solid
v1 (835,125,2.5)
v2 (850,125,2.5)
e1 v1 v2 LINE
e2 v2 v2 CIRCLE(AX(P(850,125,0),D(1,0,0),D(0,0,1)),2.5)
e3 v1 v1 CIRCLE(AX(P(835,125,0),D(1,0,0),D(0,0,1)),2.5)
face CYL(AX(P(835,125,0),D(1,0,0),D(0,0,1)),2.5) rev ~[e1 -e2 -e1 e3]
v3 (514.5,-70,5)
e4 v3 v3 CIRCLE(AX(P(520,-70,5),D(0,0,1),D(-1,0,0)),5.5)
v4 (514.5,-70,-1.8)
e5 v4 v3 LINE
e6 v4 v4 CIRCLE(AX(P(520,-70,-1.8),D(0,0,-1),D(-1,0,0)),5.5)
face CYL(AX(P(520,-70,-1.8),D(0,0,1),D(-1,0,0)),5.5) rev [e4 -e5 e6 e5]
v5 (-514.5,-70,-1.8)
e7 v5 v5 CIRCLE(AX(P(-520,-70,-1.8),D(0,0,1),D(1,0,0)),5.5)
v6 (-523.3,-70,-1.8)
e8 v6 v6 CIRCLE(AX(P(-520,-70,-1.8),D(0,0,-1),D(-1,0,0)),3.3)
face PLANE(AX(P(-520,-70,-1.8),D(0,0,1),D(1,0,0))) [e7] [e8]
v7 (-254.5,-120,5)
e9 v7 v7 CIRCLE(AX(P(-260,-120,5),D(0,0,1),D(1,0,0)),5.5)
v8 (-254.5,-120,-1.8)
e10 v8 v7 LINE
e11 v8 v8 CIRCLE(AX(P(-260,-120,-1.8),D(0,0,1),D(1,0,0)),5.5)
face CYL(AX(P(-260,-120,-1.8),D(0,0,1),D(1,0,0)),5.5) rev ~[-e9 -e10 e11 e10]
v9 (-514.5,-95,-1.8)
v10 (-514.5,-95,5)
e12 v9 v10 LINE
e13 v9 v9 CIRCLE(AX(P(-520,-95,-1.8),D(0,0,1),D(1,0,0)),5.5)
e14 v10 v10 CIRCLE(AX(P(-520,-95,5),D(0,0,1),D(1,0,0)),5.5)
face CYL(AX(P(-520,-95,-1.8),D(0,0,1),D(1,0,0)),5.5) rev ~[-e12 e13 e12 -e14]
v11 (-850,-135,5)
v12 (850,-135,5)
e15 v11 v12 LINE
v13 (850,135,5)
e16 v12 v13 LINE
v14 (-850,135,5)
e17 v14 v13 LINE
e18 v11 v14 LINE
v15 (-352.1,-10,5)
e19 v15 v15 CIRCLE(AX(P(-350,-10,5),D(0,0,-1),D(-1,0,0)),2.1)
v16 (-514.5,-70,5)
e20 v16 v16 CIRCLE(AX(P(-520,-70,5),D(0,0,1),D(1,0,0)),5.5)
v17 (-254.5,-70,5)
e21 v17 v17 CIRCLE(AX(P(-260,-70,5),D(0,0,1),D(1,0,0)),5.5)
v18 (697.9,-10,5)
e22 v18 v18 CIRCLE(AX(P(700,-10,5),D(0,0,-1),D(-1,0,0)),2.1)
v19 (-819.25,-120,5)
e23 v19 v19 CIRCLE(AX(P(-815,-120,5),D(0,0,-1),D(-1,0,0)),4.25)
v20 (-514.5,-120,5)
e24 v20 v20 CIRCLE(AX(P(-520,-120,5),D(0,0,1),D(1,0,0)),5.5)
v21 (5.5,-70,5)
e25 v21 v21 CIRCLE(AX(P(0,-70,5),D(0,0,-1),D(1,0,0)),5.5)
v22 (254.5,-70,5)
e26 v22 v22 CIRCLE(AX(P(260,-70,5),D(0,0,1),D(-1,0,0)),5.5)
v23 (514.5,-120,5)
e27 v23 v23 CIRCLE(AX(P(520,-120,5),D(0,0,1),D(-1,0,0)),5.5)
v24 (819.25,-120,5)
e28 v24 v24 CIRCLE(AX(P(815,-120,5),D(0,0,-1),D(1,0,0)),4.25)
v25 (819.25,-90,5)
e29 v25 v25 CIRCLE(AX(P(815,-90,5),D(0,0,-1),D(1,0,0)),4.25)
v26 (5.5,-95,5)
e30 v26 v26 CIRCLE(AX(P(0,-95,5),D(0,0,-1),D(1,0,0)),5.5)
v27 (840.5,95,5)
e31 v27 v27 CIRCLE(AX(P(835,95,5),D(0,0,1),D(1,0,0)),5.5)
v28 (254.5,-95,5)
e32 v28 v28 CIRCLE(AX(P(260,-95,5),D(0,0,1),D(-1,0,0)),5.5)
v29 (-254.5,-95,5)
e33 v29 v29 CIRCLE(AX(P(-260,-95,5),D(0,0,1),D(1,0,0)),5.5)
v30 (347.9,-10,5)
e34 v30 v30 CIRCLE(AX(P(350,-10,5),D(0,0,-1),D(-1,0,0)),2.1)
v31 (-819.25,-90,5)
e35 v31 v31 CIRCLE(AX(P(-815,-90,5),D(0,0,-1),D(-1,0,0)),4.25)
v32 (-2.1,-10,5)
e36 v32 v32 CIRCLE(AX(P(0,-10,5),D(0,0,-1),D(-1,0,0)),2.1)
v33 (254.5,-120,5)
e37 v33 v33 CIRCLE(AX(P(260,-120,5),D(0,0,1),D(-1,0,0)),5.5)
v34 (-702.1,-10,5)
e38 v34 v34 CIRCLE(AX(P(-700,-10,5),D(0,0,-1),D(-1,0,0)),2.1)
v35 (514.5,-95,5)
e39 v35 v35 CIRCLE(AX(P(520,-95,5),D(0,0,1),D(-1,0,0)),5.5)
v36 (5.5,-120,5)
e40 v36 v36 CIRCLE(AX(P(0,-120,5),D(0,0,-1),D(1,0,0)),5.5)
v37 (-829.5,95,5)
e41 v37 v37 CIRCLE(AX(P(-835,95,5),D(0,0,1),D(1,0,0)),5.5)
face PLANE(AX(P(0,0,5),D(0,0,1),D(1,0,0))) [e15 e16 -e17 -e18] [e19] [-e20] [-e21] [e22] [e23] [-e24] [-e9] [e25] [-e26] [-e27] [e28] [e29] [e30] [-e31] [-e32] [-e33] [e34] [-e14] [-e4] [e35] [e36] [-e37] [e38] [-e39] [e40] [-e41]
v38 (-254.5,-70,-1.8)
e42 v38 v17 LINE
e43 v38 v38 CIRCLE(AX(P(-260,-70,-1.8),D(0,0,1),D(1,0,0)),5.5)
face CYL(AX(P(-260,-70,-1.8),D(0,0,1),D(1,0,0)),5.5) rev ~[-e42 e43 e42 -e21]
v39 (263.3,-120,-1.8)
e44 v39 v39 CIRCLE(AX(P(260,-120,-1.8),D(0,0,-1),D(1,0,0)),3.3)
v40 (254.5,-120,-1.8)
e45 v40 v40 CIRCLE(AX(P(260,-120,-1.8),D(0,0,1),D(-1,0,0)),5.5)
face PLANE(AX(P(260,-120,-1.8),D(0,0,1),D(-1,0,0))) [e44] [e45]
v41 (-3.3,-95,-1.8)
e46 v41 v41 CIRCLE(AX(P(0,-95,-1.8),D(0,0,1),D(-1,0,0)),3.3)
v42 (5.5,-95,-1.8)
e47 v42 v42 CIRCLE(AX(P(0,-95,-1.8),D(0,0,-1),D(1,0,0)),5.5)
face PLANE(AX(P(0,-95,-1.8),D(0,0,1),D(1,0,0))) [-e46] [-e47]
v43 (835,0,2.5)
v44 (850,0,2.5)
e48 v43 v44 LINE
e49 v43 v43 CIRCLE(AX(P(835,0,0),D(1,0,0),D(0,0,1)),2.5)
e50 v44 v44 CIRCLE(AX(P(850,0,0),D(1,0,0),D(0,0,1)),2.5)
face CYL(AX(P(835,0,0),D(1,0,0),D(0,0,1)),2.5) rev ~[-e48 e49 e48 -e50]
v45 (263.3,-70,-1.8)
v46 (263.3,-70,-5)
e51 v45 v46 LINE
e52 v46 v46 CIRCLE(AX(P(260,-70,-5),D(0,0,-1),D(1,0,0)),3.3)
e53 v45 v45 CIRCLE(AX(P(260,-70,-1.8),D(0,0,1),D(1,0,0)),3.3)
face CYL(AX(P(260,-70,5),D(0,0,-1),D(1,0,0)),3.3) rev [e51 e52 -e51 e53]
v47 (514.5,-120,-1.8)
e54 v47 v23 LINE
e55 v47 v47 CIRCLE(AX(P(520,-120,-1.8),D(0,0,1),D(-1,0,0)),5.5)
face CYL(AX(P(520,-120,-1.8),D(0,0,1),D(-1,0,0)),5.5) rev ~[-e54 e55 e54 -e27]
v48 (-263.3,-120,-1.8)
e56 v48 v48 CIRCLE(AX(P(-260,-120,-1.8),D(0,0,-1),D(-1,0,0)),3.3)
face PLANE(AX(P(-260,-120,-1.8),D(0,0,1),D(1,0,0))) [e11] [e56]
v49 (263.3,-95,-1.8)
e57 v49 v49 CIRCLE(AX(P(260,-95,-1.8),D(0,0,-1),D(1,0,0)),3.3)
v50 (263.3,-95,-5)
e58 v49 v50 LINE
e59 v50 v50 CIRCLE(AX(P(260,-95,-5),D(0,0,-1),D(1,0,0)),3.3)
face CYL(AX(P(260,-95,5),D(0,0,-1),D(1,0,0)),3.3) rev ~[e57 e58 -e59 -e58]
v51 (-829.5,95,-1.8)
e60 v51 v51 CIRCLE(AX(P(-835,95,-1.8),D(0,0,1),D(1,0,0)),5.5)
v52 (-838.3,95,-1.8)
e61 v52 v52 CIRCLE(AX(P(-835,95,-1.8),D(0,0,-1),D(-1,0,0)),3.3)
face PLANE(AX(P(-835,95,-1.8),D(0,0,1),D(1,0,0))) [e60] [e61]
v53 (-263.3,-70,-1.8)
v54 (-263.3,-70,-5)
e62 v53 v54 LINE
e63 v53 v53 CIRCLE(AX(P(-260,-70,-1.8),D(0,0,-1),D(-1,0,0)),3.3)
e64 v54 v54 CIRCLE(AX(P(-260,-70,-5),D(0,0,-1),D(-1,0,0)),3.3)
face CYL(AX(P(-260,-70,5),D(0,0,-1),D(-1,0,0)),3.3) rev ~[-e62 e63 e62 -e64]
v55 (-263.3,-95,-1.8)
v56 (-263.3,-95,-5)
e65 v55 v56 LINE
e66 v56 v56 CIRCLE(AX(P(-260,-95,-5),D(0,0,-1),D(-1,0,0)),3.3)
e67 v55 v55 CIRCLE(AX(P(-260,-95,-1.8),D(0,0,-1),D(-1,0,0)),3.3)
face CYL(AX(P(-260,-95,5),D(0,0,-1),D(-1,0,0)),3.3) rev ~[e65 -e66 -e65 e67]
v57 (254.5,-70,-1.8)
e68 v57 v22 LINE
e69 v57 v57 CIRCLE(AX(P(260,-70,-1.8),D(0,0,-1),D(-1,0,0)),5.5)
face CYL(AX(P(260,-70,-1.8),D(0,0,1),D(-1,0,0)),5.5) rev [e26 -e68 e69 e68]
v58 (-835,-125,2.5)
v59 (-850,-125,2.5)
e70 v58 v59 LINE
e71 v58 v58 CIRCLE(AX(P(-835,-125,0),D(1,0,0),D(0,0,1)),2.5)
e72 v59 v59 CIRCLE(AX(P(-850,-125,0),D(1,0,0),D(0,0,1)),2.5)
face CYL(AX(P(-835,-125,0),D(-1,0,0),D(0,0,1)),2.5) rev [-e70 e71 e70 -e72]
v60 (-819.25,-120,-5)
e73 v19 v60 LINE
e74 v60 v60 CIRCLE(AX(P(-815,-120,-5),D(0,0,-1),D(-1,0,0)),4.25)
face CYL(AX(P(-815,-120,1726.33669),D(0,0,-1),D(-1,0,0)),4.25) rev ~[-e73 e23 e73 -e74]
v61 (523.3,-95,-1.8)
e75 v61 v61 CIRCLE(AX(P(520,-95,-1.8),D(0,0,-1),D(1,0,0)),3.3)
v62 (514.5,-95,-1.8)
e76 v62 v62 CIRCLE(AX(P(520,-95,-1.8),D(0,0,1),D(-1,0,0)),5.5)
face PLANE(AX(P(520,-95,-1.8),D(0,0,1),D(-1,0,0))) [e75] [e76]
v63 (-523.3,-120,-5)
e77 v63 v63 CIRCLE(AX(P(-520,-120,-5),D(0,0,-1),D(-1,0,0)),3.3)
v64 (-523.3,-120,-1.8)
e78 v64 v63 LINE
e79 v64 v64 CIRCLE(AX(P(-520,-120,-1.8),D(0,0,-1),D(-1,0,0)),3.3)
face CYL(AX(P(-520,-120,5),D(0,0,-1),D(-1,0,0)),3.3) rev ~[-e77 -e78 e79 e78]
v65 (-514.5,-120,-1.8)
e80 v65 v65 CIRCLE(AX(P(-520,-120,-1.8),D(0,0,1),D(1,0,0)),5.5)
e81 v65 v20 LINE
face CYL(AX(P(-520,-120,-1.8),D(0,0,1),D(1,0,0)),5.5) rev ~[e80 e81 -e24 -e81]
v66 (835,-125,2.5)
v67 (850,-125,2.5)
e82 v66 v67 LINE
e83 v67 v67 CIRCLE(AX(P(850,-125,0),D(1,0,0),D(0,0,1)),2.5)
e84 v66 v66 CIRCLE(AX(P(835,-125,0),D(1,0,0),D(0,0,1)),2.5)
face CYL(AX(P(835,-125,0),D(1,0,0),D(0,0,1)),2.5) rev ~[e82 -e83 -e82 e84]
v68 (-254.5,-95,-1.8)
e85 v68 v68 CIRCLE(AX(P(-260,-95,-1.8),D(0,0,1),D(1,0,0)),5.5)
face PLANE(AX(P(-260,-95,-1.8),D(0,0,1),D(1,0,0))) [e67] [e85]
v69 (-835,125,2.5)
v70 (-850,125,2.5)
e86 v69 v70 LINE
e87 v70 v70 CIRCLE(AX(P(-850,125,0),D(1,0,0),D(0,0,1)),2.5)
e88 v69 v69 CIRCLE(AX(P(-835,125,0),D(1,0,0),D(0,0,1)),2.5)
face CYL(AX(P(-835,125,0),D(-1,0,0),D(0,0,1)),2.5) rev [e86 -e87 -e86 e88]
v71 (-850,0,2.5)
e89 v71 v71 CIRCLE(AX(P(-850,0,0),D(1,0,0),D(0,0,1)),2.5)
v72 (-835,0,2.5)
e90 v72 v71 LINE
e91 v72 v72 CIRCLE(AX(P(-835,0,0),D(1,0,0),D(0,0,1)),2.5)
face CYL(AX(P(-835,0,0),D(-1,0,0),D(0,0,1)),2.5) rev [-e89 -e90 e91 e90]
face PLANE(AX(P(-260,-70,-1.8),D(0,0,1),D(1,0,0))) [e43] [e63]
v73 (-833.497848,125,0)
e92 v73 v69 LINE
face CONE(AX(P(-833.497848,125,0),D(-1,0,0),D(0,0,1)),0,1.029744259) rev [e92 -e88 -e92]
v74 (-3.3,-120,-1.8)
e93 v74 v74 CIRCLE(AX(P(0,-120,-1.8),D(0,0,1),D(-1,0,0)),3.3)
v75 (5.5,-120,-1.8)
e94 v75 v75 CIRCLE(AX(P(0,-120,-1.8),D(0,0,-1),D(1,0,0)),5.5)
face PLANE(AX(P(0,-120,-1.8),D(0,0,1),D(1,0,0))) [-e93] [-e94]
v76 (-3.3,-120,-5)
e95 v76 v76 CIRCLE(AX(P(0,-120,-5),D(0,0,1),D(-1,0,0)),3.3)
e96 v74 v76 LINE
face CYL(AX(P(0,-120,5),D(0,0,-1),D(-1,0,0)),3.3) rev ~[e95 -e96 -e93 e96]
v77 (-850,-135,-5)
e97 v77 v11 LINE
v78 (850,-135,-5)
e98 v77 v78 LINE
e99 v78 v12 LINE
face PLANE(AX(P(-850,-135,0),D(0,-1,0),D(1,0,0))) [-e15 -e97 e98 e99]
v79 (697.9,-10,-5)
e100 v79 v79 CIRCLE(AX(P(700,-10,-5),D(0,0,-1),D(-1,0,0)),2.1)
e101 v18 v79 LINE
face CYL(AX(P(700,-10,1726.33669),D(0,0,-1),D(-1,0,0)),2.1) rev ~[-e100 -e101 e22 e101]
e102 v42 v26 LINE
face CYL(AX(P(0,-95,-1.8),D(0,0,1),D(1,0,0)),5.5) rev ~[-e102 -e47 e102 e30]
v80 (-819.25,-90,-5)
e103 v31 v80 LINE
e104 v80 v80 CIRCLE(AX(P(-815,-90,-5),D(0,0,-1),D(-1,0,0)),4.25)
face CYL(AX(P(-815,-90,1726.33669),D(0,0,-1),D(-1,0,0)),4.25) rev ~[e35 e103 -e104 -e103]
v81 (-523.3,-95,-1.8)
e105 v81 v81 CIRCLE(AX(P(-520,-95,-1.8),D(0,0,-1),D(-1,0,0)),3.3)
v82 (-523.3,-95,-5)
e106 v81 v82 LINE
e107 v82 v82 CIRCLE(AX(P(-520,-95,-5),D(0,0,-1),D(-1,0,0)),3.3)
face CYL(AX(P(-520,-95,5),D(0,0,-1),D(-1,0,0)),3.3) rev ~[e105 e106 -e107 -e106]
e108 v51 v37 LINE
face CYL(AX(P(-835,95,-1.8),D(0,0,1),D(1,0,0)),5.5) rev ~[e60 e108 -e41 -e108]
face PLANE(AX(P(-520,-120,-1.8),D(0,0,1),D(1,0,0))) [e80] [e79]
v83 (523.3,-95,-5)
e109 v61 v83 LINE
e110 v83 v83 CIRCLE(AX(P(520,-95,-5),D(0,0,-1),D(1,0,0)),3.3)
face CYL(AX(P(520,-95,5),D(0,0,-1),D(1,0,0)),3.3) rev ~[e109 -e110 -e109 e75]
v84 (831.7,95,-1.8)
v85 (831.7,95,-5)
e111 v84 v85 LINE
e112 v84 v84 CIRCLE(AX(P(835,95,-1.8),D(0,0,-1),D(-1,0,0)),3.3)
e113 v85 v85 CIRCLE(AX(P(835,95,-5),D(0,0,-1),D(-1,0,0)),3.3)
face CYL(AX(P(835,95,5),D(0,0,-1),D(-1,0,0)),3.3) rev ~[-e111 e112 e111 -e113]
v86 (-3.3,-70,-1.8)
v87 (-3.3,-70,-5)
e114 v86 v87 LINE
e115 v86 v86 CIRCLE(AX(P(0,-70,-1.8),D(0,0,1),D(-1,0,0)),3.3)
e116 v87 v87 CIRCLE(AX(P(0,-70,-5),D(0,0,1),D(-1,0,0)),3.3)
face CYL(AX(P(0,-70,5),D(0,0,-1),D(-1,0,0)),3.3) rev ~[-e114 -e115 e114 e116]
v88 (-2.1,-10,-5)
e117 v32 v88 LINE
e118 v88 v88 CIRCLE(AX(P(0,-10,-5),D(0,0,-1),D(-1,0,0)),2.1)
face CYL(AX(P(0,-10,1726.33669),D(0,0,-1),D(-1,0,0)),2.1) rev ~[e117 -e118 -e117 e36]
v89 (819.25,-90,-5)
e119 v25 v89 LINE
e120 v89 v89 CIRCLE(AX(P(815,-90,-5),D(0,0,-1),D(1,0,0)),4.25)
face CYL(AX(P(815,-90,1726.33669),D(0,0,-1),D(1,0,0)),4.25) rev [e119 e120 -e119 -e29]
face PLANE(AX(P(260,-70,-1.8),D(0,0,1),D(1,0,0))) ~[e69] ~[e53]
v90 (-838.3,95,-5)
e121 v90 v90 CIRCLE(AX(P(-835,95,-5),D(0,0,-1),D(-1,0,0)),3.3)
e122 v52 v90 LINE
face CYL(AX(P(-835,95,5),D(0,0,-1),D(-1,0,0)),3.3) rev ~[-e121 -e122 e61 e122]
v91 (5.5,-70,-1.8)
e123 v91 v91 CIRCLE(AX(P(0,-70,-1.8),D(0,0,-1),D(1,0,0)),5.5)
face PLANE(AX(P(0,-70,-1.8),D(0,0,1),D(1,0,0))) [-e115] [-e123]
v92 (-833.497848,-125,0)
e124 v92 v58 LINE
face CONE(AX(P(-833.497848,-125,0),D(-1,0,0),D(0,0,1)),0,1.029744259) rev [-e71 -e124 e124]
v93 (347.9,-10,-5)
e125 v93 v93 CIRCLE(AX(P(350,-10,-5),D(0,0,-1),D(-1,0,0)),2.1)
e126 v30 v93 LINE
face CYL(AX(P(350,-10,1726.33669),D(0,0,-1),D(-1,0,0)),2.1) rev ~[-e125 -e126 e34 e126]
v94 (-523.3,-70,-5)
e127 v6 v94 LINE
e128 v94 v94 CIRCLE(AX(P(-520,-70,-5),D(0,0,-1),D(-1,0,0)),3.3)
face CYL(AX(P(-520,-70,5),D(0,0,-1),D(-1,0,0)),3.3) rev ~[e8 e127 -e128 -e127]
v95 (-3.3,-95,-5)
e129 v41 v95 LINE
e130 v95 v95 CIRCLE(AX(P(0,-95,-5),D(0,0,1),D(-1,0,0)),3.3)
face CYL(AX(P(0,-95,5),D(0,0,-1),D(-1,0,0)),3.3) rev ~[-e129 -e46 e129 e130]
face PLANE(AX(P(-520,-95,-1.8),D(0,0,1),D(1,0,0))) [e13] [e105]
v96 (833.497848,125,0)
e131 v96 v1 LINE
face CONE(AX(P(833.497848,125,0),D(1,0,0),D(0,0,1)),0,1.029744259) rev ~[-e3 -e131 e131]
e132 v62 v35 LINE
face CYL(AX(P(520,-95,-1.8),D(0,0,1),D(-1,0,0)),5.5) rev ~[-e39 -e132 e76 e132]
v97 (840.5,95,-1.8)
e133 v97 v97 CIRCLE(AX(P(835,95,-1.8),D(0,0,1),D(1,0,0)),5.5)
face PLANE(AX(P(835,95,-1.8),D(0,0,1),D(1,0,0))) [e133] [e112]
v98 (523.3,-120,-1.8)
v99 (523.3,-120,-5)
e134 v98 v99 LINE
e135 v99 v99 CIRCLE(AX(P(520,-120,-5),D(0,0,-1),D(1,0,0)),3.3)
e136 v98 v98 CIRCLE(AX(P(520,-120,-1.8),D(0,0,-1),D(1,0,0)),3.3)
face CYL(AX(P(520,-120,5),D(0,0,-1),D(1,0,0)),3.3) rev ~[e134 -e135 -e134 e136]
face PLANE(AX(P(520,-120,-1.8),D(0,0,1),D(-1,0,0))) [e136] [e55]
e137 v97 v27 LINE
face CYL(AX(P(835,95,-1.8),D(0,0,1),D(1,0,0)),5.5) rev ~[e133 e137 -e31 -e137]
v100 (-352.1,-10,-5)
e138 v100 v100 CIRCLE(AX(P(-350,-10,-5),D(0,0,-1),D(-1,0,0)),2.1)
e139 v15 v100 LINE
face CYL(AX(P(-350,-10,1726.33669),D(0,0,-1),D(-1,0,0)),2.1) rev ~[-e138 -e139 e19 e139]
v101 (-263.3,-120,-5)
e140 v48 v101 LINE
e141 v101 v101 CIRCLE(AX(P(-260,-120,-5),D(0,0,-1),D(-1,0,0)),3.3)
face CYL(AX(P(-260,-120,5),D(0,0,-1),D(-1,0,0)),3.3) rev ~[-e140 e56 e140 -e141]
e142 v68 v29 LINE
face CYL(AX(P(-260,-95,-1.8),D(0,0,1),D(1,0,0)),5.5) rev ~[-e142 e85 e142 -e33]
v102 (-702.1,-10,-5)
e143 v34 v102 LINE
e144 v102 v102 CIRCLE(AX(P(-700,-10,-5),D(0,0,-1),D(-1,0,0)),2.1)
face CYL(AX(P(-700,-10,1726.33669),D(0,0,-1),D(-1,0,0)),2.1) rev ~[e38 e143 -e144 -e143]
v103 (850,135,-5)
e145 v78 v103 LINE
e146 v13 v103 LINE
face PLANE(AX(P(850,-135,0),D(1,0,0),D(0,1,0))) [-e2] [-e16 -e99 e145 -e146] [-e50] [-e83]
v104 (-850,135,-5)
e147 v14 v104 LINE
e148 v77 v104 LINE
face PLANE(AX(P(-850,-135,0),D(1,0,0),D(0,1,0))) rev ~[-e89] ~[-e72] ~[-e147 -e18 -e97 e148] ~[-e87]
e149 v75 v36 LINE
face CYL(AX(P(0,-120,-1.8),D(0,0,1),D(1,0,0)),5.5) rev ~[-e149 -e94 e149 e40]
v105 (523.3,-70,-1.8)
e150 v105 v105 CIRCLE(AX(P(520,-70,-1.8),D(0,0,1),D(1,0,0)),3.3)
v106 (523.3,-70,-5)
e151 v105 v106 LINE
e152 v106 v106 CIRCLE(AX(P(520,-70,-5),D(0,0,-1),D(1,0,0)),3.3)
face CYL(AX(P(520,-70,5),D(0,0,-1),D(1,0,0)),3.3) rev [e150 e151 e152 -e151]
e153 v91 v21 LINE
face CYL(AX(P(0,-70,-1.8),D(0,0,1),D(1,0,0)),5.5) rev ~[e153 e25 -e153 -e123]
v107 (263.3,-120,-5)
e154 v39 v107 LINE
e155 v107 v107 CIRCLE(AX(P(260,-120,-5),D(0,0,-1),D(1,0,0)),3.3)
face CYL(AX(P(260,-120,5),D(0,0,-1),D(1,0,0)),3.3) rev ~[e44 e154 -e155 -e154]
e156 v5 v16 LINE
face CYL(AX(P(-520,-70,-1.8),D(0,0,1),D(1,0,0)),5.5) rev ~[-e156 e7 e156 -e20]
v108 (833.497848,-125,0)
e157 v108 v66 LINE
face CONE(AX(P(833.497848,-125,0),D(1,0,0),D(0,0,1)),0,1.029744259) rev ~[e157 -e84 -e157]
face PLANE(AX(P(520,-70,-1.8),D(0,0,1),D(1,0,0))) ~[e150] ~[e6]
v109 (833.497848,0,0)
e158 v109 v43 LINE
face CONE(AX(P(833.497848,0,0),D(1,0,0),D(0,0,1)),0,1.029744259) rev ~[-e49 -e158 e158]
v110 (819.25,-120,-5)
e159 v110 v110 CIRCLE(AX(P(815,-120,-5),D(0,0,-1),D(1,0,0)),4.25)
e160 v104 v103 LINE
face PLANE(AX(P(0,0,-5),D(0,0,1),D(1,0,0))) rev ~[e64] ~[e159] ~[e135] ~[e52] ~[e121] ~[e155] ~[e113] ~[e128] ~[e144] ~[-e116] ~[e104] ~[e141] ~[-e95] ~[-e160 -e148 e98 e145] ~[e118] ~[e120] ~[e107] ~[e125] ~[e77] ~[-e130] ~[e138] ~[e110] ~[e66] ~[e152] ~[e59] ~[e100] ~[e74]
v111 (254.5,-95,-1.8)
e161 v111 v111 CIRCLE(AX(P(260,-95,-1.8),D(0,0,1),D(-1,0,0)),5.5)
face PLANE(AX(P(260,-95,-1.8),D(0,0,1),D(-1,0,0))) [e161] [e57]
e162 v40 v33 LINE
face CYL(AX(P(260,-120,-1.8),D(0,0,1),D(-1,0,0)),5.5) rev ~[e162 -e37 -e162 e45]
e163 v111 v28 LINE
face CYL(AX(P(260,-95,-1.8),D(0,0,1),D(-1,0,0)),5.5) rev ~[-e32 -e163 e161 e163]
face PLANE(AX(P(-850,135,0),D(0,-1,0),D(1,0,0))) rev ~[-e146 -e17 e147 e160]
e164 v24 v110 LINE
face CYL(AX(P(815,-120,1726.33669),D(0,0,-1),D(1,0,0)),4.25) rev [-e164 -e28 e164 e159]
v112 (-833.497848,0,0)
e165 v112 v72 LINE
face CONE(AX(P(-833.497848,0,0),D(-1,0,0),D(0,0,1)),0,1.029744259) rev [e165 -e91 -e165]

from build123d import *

# Parameters (mm, degrees)
SKETCH_1_W                          = 1700
SKETCH_1_H                          = 270
EXTRUDE_1_DEPTH                     = 5
HOLE_WIZARD_M6_1_AT_2_COUNT         = 2
HOLE_WIZARD_M6_1_AT_2_PITCH         = 250
HOLE_WIZARD_M6_1_AT_3_COUNT         = 2
HOLE_WIZARD_M6_1_AT_3_PITCH         = 125
HOLE_WIZARD_3_D                     = 6.6
HOLE_WIZARD_3_CBORE_D               = 11
HOLE_WIZARD_3_CBORE_DEPTH           = 6.8
PATTERN_LINEAR_1_COUNT              = 3
PATTERN_LINEAR_1_PITCH              = 25
PATTERN_LINEAR_1_COPY_1_D           = 6.6
PATTERN_LINEAR_1_COPY_1_CBORE_D     = 11
PATTERN_LINEAR_1_COPY_1_CBORE_DEPTH = 6.8
PATTERN_LINEAR_1_COPY_2_D           = 6.6
PATTERN_LINEAR_1_COPY_2_CBORE_D     = 11
PATTERN_LINEAR_1_COPY_2_CBORE_DEPTH = 6.8
HOLE_WIZARD_M5_1_D                  = 4.2
HOLE_WIZARD_3_2_D                   = 6.6
HOLE_WIZARD_3_2_CBORE_D             = 11
HOLE_WIZARD_3_2_CBORE_DEPTH         = 6.8
HOLE_WIZARD_3_3_D                   = 6.6
HOLE_WIZARD_3_3_CBORE_D             = 11
HOLE_WIZARD_3_3_CBORE_DEPTH         = 6.8
HOLE_WIZARD_M10_1_D                 = 8.5


with BuildPart() as part:
    # 草图1 → 凸台-拉伸1 (new body, symmetric)
    with BuildSketch(Plane.XY):
        Rectangle(SKETCH_1_W, SKETCH_1_H)
    extrude(amount=EXTRUDE_1_DEPTH, both=True)

    # 草图5 → M6 螺纹孔1 (revolve, cut)
    with BuildSketch(Plane(origin=(-850, 125, 0), x_dir=(0, 0, 1), z_dir=(0, 1, 0))):
        Polygon((0, 0), (0, 16.502151548), (2.5, 15), (2.5, 0), align=None)
    hole_wizard_m6_1 = revolve(axis=Axis((-856.35, 125, 0), (1, 0, 0)), mode=Mode.SUBTRACT)

    # M6 螺纹孔1 at 2: M6 螺纹孔1 ×2
    with Locations(*[(0, -i * HOLE_WIZARD_M6_1_AT_2_PITCH, 0) for i in range(1, HOLE_WIZARD_M6_1_AT_2_COUNT)]):
        add(hole_wizard_m6_1, mode=Mode.SUBTRACT)

    # M6 螺纹孔1 at 3: M6 螺纹孔1 ×2
    with Locations(*[(0, -i * HOLE_WIZARD_M6_1_AT_3_PITCH, 0) for i in range(1, HOLE_WIZARD_M6_1_AT_3_COUNT)]):
        add(hole_wizard_m6_1, mode=Mode.SUBTRACT)

    # 镜向1: M6 螺纹孔1 across plane
    add(hole_wizard_m6_1.mirror(Plane(origin=(0, 0, 0), x_dir=(0, 0, 1), z_dir=(1, 0, 0))), mode=Mode.SUBTRACT)

    # 镜向1 copy 1 sketch → 镜向1 copy 1 (revolve, cut)
    with BuildSketch(Plane(origin=(850, -125, 0), x_dir=(0, 0, 1), z_dir=(0, 1, 0))):
        Polygon((0, 0), (0, -16.502151548), (2.5, -15), (2.5, 0), align=None)
    revolve(axis=Axis((856.35, -125, 0), (1, 0, 0)), mode=Mode.SUBTRACT)

    # 镜向1 copy 2 sketch → 镜向1 copy 2 (revolve, cut)
    with BuildSketch(Plane(origin=(850, 0, 0), x_dir=(0, 0, 1), z_dir=(0, 1, 0))):
        Polygon((0, 0), (0, -16.502151548), (2.5, -15), (2.5, 0), align=None)
    revolve(axis=Axis((856.35, 0, 0), (1, 0, 0)), mode=Mode.SUBTRACT)

    # Hole Wizard 3 (through all)
    with Locations(Plane(origin=(-520, -70, 5), x_dir=(1, 0, 0), z_dir=(0, 0, 1))):
        with Locations((0, 0), (260, 0), (520, 0)):
            hole_wizard_3 = CounterBoreHole(HOLE_WIZARD_3_D / 2, HOLE_WIZARD_3_CBORE_D / 2, HOLE_WIZARD_3_CBORE_DEPTH)

    # 镜向4: Hole Wizard 3 across plane
    add(hole_wizard_3.mirror(Plane(origin=(0, 0, 0), x_dir=(0, 0, 1), z_dir=(1, 0, 0))), mode=Mode.SUBTRACT)

    # 阵列(线性)1: Hole Wizard 3 ×3
    with Locations(*[(0, -i * PATTERN_LINEAR_1_PITCH, 0) for i in range(1, PATTERN_LINEAR_1_COUNT)]):
        add(hole_wizard_3, mode=Mode.SUBTRACT)

    # 阵列(线性)1 copy 1 (through all)
    with Locations(Plane(origin=(520, -95, 5), x_dir=(-1, 0, 0), z_dir=(0, 0, 1))):
        with Locations((0, 0), (260, 0), (520, 0)):
            CounterBoreHole(PATTERN_LINEAR_1_COPY_1_D / 2, PATTERN_LINEAR_1_COPY_1_CBORE_D / 2, PATTERN_LINEAR_1_COPY_1_CBORE_DEPTH)

    # 阵列(线性)1 copy 2 (through all)
    with Locations(Plane(origin=(520, -120, 5), x_dir=(-1, 0, 0), z_dir=(0, 0, 1))):
        with Locations((0, 0), (260, 0), (520, 0)):
            CounterBoreHole(PATTERN_LINEAR_1_COPY_2_D / 2, PATTERN_LINEAR_1_COPY_2_CBORE_D / 2, PATTERN_LINEAR_1_COPY_2_CBORE_DEPTH)

    # M5 螺纹孔1 (through all)
    with Locations(Plane(origin=(-700, -10, 5), x_dir=(1, 0, 0), z_dir=(0, 0, 1))):
        with Locations((0, 0), (350, 0), (1400, 0), (1050, 0), (700, 0)):
            Hole(HOLE_WIZARD_M5_1_D / 2)

    # Hole Wizard 3 2 (through all)
    with Locations(Plane(origin=(835, 95, 5), x_dir=(1, 0, 0), z_dir=(0, 0, 1))):
        with Locations((0, 0)):
            CounterBoreHole(HOLE_WIZARD_3_2_D / 2, HOLE_WIZARD_3_2_CBORE_D / 2, HOLE_WIZARD_3_2_CBORE_DEPTH)

    # Hole Wizard 3 3 (through all)
    with Locations(Plane(origin=(-835, 95, 5), x_dir=(1, 0, 0), z_dir=(0, 0, 1))):
        with Locations((0, 0)):
            CounterBoreHole(HOLE_WIZARD_3_3_D / 2, HOLE_WIZARD_3_3_CBORE_D / 2, HOLE_WIZARD_3_3_CBORE_DEPTH)

    # M10 螺纹孔1 (through all)
    with Locations(Plane(origin=(-815, -90, 5), x_dir=(1, 0, 0), z_dir=(0, 0, 1))):
        with Locations((0, 0), (0, -30)):
            hole_wizard_m10_1 = Hole(HOLE_WIZARD_M10_1_D / 2)

    # 镜向5: M10 螺纹孔1 across plane
    add(hole_wizard_m10_1.mirror(Plane(origin=(0, 0, 0), x_dir=(0, 0, 1), z_dir=(1, 0, 0))), mode=Mode.SUBTRACT)


solid = part.part
